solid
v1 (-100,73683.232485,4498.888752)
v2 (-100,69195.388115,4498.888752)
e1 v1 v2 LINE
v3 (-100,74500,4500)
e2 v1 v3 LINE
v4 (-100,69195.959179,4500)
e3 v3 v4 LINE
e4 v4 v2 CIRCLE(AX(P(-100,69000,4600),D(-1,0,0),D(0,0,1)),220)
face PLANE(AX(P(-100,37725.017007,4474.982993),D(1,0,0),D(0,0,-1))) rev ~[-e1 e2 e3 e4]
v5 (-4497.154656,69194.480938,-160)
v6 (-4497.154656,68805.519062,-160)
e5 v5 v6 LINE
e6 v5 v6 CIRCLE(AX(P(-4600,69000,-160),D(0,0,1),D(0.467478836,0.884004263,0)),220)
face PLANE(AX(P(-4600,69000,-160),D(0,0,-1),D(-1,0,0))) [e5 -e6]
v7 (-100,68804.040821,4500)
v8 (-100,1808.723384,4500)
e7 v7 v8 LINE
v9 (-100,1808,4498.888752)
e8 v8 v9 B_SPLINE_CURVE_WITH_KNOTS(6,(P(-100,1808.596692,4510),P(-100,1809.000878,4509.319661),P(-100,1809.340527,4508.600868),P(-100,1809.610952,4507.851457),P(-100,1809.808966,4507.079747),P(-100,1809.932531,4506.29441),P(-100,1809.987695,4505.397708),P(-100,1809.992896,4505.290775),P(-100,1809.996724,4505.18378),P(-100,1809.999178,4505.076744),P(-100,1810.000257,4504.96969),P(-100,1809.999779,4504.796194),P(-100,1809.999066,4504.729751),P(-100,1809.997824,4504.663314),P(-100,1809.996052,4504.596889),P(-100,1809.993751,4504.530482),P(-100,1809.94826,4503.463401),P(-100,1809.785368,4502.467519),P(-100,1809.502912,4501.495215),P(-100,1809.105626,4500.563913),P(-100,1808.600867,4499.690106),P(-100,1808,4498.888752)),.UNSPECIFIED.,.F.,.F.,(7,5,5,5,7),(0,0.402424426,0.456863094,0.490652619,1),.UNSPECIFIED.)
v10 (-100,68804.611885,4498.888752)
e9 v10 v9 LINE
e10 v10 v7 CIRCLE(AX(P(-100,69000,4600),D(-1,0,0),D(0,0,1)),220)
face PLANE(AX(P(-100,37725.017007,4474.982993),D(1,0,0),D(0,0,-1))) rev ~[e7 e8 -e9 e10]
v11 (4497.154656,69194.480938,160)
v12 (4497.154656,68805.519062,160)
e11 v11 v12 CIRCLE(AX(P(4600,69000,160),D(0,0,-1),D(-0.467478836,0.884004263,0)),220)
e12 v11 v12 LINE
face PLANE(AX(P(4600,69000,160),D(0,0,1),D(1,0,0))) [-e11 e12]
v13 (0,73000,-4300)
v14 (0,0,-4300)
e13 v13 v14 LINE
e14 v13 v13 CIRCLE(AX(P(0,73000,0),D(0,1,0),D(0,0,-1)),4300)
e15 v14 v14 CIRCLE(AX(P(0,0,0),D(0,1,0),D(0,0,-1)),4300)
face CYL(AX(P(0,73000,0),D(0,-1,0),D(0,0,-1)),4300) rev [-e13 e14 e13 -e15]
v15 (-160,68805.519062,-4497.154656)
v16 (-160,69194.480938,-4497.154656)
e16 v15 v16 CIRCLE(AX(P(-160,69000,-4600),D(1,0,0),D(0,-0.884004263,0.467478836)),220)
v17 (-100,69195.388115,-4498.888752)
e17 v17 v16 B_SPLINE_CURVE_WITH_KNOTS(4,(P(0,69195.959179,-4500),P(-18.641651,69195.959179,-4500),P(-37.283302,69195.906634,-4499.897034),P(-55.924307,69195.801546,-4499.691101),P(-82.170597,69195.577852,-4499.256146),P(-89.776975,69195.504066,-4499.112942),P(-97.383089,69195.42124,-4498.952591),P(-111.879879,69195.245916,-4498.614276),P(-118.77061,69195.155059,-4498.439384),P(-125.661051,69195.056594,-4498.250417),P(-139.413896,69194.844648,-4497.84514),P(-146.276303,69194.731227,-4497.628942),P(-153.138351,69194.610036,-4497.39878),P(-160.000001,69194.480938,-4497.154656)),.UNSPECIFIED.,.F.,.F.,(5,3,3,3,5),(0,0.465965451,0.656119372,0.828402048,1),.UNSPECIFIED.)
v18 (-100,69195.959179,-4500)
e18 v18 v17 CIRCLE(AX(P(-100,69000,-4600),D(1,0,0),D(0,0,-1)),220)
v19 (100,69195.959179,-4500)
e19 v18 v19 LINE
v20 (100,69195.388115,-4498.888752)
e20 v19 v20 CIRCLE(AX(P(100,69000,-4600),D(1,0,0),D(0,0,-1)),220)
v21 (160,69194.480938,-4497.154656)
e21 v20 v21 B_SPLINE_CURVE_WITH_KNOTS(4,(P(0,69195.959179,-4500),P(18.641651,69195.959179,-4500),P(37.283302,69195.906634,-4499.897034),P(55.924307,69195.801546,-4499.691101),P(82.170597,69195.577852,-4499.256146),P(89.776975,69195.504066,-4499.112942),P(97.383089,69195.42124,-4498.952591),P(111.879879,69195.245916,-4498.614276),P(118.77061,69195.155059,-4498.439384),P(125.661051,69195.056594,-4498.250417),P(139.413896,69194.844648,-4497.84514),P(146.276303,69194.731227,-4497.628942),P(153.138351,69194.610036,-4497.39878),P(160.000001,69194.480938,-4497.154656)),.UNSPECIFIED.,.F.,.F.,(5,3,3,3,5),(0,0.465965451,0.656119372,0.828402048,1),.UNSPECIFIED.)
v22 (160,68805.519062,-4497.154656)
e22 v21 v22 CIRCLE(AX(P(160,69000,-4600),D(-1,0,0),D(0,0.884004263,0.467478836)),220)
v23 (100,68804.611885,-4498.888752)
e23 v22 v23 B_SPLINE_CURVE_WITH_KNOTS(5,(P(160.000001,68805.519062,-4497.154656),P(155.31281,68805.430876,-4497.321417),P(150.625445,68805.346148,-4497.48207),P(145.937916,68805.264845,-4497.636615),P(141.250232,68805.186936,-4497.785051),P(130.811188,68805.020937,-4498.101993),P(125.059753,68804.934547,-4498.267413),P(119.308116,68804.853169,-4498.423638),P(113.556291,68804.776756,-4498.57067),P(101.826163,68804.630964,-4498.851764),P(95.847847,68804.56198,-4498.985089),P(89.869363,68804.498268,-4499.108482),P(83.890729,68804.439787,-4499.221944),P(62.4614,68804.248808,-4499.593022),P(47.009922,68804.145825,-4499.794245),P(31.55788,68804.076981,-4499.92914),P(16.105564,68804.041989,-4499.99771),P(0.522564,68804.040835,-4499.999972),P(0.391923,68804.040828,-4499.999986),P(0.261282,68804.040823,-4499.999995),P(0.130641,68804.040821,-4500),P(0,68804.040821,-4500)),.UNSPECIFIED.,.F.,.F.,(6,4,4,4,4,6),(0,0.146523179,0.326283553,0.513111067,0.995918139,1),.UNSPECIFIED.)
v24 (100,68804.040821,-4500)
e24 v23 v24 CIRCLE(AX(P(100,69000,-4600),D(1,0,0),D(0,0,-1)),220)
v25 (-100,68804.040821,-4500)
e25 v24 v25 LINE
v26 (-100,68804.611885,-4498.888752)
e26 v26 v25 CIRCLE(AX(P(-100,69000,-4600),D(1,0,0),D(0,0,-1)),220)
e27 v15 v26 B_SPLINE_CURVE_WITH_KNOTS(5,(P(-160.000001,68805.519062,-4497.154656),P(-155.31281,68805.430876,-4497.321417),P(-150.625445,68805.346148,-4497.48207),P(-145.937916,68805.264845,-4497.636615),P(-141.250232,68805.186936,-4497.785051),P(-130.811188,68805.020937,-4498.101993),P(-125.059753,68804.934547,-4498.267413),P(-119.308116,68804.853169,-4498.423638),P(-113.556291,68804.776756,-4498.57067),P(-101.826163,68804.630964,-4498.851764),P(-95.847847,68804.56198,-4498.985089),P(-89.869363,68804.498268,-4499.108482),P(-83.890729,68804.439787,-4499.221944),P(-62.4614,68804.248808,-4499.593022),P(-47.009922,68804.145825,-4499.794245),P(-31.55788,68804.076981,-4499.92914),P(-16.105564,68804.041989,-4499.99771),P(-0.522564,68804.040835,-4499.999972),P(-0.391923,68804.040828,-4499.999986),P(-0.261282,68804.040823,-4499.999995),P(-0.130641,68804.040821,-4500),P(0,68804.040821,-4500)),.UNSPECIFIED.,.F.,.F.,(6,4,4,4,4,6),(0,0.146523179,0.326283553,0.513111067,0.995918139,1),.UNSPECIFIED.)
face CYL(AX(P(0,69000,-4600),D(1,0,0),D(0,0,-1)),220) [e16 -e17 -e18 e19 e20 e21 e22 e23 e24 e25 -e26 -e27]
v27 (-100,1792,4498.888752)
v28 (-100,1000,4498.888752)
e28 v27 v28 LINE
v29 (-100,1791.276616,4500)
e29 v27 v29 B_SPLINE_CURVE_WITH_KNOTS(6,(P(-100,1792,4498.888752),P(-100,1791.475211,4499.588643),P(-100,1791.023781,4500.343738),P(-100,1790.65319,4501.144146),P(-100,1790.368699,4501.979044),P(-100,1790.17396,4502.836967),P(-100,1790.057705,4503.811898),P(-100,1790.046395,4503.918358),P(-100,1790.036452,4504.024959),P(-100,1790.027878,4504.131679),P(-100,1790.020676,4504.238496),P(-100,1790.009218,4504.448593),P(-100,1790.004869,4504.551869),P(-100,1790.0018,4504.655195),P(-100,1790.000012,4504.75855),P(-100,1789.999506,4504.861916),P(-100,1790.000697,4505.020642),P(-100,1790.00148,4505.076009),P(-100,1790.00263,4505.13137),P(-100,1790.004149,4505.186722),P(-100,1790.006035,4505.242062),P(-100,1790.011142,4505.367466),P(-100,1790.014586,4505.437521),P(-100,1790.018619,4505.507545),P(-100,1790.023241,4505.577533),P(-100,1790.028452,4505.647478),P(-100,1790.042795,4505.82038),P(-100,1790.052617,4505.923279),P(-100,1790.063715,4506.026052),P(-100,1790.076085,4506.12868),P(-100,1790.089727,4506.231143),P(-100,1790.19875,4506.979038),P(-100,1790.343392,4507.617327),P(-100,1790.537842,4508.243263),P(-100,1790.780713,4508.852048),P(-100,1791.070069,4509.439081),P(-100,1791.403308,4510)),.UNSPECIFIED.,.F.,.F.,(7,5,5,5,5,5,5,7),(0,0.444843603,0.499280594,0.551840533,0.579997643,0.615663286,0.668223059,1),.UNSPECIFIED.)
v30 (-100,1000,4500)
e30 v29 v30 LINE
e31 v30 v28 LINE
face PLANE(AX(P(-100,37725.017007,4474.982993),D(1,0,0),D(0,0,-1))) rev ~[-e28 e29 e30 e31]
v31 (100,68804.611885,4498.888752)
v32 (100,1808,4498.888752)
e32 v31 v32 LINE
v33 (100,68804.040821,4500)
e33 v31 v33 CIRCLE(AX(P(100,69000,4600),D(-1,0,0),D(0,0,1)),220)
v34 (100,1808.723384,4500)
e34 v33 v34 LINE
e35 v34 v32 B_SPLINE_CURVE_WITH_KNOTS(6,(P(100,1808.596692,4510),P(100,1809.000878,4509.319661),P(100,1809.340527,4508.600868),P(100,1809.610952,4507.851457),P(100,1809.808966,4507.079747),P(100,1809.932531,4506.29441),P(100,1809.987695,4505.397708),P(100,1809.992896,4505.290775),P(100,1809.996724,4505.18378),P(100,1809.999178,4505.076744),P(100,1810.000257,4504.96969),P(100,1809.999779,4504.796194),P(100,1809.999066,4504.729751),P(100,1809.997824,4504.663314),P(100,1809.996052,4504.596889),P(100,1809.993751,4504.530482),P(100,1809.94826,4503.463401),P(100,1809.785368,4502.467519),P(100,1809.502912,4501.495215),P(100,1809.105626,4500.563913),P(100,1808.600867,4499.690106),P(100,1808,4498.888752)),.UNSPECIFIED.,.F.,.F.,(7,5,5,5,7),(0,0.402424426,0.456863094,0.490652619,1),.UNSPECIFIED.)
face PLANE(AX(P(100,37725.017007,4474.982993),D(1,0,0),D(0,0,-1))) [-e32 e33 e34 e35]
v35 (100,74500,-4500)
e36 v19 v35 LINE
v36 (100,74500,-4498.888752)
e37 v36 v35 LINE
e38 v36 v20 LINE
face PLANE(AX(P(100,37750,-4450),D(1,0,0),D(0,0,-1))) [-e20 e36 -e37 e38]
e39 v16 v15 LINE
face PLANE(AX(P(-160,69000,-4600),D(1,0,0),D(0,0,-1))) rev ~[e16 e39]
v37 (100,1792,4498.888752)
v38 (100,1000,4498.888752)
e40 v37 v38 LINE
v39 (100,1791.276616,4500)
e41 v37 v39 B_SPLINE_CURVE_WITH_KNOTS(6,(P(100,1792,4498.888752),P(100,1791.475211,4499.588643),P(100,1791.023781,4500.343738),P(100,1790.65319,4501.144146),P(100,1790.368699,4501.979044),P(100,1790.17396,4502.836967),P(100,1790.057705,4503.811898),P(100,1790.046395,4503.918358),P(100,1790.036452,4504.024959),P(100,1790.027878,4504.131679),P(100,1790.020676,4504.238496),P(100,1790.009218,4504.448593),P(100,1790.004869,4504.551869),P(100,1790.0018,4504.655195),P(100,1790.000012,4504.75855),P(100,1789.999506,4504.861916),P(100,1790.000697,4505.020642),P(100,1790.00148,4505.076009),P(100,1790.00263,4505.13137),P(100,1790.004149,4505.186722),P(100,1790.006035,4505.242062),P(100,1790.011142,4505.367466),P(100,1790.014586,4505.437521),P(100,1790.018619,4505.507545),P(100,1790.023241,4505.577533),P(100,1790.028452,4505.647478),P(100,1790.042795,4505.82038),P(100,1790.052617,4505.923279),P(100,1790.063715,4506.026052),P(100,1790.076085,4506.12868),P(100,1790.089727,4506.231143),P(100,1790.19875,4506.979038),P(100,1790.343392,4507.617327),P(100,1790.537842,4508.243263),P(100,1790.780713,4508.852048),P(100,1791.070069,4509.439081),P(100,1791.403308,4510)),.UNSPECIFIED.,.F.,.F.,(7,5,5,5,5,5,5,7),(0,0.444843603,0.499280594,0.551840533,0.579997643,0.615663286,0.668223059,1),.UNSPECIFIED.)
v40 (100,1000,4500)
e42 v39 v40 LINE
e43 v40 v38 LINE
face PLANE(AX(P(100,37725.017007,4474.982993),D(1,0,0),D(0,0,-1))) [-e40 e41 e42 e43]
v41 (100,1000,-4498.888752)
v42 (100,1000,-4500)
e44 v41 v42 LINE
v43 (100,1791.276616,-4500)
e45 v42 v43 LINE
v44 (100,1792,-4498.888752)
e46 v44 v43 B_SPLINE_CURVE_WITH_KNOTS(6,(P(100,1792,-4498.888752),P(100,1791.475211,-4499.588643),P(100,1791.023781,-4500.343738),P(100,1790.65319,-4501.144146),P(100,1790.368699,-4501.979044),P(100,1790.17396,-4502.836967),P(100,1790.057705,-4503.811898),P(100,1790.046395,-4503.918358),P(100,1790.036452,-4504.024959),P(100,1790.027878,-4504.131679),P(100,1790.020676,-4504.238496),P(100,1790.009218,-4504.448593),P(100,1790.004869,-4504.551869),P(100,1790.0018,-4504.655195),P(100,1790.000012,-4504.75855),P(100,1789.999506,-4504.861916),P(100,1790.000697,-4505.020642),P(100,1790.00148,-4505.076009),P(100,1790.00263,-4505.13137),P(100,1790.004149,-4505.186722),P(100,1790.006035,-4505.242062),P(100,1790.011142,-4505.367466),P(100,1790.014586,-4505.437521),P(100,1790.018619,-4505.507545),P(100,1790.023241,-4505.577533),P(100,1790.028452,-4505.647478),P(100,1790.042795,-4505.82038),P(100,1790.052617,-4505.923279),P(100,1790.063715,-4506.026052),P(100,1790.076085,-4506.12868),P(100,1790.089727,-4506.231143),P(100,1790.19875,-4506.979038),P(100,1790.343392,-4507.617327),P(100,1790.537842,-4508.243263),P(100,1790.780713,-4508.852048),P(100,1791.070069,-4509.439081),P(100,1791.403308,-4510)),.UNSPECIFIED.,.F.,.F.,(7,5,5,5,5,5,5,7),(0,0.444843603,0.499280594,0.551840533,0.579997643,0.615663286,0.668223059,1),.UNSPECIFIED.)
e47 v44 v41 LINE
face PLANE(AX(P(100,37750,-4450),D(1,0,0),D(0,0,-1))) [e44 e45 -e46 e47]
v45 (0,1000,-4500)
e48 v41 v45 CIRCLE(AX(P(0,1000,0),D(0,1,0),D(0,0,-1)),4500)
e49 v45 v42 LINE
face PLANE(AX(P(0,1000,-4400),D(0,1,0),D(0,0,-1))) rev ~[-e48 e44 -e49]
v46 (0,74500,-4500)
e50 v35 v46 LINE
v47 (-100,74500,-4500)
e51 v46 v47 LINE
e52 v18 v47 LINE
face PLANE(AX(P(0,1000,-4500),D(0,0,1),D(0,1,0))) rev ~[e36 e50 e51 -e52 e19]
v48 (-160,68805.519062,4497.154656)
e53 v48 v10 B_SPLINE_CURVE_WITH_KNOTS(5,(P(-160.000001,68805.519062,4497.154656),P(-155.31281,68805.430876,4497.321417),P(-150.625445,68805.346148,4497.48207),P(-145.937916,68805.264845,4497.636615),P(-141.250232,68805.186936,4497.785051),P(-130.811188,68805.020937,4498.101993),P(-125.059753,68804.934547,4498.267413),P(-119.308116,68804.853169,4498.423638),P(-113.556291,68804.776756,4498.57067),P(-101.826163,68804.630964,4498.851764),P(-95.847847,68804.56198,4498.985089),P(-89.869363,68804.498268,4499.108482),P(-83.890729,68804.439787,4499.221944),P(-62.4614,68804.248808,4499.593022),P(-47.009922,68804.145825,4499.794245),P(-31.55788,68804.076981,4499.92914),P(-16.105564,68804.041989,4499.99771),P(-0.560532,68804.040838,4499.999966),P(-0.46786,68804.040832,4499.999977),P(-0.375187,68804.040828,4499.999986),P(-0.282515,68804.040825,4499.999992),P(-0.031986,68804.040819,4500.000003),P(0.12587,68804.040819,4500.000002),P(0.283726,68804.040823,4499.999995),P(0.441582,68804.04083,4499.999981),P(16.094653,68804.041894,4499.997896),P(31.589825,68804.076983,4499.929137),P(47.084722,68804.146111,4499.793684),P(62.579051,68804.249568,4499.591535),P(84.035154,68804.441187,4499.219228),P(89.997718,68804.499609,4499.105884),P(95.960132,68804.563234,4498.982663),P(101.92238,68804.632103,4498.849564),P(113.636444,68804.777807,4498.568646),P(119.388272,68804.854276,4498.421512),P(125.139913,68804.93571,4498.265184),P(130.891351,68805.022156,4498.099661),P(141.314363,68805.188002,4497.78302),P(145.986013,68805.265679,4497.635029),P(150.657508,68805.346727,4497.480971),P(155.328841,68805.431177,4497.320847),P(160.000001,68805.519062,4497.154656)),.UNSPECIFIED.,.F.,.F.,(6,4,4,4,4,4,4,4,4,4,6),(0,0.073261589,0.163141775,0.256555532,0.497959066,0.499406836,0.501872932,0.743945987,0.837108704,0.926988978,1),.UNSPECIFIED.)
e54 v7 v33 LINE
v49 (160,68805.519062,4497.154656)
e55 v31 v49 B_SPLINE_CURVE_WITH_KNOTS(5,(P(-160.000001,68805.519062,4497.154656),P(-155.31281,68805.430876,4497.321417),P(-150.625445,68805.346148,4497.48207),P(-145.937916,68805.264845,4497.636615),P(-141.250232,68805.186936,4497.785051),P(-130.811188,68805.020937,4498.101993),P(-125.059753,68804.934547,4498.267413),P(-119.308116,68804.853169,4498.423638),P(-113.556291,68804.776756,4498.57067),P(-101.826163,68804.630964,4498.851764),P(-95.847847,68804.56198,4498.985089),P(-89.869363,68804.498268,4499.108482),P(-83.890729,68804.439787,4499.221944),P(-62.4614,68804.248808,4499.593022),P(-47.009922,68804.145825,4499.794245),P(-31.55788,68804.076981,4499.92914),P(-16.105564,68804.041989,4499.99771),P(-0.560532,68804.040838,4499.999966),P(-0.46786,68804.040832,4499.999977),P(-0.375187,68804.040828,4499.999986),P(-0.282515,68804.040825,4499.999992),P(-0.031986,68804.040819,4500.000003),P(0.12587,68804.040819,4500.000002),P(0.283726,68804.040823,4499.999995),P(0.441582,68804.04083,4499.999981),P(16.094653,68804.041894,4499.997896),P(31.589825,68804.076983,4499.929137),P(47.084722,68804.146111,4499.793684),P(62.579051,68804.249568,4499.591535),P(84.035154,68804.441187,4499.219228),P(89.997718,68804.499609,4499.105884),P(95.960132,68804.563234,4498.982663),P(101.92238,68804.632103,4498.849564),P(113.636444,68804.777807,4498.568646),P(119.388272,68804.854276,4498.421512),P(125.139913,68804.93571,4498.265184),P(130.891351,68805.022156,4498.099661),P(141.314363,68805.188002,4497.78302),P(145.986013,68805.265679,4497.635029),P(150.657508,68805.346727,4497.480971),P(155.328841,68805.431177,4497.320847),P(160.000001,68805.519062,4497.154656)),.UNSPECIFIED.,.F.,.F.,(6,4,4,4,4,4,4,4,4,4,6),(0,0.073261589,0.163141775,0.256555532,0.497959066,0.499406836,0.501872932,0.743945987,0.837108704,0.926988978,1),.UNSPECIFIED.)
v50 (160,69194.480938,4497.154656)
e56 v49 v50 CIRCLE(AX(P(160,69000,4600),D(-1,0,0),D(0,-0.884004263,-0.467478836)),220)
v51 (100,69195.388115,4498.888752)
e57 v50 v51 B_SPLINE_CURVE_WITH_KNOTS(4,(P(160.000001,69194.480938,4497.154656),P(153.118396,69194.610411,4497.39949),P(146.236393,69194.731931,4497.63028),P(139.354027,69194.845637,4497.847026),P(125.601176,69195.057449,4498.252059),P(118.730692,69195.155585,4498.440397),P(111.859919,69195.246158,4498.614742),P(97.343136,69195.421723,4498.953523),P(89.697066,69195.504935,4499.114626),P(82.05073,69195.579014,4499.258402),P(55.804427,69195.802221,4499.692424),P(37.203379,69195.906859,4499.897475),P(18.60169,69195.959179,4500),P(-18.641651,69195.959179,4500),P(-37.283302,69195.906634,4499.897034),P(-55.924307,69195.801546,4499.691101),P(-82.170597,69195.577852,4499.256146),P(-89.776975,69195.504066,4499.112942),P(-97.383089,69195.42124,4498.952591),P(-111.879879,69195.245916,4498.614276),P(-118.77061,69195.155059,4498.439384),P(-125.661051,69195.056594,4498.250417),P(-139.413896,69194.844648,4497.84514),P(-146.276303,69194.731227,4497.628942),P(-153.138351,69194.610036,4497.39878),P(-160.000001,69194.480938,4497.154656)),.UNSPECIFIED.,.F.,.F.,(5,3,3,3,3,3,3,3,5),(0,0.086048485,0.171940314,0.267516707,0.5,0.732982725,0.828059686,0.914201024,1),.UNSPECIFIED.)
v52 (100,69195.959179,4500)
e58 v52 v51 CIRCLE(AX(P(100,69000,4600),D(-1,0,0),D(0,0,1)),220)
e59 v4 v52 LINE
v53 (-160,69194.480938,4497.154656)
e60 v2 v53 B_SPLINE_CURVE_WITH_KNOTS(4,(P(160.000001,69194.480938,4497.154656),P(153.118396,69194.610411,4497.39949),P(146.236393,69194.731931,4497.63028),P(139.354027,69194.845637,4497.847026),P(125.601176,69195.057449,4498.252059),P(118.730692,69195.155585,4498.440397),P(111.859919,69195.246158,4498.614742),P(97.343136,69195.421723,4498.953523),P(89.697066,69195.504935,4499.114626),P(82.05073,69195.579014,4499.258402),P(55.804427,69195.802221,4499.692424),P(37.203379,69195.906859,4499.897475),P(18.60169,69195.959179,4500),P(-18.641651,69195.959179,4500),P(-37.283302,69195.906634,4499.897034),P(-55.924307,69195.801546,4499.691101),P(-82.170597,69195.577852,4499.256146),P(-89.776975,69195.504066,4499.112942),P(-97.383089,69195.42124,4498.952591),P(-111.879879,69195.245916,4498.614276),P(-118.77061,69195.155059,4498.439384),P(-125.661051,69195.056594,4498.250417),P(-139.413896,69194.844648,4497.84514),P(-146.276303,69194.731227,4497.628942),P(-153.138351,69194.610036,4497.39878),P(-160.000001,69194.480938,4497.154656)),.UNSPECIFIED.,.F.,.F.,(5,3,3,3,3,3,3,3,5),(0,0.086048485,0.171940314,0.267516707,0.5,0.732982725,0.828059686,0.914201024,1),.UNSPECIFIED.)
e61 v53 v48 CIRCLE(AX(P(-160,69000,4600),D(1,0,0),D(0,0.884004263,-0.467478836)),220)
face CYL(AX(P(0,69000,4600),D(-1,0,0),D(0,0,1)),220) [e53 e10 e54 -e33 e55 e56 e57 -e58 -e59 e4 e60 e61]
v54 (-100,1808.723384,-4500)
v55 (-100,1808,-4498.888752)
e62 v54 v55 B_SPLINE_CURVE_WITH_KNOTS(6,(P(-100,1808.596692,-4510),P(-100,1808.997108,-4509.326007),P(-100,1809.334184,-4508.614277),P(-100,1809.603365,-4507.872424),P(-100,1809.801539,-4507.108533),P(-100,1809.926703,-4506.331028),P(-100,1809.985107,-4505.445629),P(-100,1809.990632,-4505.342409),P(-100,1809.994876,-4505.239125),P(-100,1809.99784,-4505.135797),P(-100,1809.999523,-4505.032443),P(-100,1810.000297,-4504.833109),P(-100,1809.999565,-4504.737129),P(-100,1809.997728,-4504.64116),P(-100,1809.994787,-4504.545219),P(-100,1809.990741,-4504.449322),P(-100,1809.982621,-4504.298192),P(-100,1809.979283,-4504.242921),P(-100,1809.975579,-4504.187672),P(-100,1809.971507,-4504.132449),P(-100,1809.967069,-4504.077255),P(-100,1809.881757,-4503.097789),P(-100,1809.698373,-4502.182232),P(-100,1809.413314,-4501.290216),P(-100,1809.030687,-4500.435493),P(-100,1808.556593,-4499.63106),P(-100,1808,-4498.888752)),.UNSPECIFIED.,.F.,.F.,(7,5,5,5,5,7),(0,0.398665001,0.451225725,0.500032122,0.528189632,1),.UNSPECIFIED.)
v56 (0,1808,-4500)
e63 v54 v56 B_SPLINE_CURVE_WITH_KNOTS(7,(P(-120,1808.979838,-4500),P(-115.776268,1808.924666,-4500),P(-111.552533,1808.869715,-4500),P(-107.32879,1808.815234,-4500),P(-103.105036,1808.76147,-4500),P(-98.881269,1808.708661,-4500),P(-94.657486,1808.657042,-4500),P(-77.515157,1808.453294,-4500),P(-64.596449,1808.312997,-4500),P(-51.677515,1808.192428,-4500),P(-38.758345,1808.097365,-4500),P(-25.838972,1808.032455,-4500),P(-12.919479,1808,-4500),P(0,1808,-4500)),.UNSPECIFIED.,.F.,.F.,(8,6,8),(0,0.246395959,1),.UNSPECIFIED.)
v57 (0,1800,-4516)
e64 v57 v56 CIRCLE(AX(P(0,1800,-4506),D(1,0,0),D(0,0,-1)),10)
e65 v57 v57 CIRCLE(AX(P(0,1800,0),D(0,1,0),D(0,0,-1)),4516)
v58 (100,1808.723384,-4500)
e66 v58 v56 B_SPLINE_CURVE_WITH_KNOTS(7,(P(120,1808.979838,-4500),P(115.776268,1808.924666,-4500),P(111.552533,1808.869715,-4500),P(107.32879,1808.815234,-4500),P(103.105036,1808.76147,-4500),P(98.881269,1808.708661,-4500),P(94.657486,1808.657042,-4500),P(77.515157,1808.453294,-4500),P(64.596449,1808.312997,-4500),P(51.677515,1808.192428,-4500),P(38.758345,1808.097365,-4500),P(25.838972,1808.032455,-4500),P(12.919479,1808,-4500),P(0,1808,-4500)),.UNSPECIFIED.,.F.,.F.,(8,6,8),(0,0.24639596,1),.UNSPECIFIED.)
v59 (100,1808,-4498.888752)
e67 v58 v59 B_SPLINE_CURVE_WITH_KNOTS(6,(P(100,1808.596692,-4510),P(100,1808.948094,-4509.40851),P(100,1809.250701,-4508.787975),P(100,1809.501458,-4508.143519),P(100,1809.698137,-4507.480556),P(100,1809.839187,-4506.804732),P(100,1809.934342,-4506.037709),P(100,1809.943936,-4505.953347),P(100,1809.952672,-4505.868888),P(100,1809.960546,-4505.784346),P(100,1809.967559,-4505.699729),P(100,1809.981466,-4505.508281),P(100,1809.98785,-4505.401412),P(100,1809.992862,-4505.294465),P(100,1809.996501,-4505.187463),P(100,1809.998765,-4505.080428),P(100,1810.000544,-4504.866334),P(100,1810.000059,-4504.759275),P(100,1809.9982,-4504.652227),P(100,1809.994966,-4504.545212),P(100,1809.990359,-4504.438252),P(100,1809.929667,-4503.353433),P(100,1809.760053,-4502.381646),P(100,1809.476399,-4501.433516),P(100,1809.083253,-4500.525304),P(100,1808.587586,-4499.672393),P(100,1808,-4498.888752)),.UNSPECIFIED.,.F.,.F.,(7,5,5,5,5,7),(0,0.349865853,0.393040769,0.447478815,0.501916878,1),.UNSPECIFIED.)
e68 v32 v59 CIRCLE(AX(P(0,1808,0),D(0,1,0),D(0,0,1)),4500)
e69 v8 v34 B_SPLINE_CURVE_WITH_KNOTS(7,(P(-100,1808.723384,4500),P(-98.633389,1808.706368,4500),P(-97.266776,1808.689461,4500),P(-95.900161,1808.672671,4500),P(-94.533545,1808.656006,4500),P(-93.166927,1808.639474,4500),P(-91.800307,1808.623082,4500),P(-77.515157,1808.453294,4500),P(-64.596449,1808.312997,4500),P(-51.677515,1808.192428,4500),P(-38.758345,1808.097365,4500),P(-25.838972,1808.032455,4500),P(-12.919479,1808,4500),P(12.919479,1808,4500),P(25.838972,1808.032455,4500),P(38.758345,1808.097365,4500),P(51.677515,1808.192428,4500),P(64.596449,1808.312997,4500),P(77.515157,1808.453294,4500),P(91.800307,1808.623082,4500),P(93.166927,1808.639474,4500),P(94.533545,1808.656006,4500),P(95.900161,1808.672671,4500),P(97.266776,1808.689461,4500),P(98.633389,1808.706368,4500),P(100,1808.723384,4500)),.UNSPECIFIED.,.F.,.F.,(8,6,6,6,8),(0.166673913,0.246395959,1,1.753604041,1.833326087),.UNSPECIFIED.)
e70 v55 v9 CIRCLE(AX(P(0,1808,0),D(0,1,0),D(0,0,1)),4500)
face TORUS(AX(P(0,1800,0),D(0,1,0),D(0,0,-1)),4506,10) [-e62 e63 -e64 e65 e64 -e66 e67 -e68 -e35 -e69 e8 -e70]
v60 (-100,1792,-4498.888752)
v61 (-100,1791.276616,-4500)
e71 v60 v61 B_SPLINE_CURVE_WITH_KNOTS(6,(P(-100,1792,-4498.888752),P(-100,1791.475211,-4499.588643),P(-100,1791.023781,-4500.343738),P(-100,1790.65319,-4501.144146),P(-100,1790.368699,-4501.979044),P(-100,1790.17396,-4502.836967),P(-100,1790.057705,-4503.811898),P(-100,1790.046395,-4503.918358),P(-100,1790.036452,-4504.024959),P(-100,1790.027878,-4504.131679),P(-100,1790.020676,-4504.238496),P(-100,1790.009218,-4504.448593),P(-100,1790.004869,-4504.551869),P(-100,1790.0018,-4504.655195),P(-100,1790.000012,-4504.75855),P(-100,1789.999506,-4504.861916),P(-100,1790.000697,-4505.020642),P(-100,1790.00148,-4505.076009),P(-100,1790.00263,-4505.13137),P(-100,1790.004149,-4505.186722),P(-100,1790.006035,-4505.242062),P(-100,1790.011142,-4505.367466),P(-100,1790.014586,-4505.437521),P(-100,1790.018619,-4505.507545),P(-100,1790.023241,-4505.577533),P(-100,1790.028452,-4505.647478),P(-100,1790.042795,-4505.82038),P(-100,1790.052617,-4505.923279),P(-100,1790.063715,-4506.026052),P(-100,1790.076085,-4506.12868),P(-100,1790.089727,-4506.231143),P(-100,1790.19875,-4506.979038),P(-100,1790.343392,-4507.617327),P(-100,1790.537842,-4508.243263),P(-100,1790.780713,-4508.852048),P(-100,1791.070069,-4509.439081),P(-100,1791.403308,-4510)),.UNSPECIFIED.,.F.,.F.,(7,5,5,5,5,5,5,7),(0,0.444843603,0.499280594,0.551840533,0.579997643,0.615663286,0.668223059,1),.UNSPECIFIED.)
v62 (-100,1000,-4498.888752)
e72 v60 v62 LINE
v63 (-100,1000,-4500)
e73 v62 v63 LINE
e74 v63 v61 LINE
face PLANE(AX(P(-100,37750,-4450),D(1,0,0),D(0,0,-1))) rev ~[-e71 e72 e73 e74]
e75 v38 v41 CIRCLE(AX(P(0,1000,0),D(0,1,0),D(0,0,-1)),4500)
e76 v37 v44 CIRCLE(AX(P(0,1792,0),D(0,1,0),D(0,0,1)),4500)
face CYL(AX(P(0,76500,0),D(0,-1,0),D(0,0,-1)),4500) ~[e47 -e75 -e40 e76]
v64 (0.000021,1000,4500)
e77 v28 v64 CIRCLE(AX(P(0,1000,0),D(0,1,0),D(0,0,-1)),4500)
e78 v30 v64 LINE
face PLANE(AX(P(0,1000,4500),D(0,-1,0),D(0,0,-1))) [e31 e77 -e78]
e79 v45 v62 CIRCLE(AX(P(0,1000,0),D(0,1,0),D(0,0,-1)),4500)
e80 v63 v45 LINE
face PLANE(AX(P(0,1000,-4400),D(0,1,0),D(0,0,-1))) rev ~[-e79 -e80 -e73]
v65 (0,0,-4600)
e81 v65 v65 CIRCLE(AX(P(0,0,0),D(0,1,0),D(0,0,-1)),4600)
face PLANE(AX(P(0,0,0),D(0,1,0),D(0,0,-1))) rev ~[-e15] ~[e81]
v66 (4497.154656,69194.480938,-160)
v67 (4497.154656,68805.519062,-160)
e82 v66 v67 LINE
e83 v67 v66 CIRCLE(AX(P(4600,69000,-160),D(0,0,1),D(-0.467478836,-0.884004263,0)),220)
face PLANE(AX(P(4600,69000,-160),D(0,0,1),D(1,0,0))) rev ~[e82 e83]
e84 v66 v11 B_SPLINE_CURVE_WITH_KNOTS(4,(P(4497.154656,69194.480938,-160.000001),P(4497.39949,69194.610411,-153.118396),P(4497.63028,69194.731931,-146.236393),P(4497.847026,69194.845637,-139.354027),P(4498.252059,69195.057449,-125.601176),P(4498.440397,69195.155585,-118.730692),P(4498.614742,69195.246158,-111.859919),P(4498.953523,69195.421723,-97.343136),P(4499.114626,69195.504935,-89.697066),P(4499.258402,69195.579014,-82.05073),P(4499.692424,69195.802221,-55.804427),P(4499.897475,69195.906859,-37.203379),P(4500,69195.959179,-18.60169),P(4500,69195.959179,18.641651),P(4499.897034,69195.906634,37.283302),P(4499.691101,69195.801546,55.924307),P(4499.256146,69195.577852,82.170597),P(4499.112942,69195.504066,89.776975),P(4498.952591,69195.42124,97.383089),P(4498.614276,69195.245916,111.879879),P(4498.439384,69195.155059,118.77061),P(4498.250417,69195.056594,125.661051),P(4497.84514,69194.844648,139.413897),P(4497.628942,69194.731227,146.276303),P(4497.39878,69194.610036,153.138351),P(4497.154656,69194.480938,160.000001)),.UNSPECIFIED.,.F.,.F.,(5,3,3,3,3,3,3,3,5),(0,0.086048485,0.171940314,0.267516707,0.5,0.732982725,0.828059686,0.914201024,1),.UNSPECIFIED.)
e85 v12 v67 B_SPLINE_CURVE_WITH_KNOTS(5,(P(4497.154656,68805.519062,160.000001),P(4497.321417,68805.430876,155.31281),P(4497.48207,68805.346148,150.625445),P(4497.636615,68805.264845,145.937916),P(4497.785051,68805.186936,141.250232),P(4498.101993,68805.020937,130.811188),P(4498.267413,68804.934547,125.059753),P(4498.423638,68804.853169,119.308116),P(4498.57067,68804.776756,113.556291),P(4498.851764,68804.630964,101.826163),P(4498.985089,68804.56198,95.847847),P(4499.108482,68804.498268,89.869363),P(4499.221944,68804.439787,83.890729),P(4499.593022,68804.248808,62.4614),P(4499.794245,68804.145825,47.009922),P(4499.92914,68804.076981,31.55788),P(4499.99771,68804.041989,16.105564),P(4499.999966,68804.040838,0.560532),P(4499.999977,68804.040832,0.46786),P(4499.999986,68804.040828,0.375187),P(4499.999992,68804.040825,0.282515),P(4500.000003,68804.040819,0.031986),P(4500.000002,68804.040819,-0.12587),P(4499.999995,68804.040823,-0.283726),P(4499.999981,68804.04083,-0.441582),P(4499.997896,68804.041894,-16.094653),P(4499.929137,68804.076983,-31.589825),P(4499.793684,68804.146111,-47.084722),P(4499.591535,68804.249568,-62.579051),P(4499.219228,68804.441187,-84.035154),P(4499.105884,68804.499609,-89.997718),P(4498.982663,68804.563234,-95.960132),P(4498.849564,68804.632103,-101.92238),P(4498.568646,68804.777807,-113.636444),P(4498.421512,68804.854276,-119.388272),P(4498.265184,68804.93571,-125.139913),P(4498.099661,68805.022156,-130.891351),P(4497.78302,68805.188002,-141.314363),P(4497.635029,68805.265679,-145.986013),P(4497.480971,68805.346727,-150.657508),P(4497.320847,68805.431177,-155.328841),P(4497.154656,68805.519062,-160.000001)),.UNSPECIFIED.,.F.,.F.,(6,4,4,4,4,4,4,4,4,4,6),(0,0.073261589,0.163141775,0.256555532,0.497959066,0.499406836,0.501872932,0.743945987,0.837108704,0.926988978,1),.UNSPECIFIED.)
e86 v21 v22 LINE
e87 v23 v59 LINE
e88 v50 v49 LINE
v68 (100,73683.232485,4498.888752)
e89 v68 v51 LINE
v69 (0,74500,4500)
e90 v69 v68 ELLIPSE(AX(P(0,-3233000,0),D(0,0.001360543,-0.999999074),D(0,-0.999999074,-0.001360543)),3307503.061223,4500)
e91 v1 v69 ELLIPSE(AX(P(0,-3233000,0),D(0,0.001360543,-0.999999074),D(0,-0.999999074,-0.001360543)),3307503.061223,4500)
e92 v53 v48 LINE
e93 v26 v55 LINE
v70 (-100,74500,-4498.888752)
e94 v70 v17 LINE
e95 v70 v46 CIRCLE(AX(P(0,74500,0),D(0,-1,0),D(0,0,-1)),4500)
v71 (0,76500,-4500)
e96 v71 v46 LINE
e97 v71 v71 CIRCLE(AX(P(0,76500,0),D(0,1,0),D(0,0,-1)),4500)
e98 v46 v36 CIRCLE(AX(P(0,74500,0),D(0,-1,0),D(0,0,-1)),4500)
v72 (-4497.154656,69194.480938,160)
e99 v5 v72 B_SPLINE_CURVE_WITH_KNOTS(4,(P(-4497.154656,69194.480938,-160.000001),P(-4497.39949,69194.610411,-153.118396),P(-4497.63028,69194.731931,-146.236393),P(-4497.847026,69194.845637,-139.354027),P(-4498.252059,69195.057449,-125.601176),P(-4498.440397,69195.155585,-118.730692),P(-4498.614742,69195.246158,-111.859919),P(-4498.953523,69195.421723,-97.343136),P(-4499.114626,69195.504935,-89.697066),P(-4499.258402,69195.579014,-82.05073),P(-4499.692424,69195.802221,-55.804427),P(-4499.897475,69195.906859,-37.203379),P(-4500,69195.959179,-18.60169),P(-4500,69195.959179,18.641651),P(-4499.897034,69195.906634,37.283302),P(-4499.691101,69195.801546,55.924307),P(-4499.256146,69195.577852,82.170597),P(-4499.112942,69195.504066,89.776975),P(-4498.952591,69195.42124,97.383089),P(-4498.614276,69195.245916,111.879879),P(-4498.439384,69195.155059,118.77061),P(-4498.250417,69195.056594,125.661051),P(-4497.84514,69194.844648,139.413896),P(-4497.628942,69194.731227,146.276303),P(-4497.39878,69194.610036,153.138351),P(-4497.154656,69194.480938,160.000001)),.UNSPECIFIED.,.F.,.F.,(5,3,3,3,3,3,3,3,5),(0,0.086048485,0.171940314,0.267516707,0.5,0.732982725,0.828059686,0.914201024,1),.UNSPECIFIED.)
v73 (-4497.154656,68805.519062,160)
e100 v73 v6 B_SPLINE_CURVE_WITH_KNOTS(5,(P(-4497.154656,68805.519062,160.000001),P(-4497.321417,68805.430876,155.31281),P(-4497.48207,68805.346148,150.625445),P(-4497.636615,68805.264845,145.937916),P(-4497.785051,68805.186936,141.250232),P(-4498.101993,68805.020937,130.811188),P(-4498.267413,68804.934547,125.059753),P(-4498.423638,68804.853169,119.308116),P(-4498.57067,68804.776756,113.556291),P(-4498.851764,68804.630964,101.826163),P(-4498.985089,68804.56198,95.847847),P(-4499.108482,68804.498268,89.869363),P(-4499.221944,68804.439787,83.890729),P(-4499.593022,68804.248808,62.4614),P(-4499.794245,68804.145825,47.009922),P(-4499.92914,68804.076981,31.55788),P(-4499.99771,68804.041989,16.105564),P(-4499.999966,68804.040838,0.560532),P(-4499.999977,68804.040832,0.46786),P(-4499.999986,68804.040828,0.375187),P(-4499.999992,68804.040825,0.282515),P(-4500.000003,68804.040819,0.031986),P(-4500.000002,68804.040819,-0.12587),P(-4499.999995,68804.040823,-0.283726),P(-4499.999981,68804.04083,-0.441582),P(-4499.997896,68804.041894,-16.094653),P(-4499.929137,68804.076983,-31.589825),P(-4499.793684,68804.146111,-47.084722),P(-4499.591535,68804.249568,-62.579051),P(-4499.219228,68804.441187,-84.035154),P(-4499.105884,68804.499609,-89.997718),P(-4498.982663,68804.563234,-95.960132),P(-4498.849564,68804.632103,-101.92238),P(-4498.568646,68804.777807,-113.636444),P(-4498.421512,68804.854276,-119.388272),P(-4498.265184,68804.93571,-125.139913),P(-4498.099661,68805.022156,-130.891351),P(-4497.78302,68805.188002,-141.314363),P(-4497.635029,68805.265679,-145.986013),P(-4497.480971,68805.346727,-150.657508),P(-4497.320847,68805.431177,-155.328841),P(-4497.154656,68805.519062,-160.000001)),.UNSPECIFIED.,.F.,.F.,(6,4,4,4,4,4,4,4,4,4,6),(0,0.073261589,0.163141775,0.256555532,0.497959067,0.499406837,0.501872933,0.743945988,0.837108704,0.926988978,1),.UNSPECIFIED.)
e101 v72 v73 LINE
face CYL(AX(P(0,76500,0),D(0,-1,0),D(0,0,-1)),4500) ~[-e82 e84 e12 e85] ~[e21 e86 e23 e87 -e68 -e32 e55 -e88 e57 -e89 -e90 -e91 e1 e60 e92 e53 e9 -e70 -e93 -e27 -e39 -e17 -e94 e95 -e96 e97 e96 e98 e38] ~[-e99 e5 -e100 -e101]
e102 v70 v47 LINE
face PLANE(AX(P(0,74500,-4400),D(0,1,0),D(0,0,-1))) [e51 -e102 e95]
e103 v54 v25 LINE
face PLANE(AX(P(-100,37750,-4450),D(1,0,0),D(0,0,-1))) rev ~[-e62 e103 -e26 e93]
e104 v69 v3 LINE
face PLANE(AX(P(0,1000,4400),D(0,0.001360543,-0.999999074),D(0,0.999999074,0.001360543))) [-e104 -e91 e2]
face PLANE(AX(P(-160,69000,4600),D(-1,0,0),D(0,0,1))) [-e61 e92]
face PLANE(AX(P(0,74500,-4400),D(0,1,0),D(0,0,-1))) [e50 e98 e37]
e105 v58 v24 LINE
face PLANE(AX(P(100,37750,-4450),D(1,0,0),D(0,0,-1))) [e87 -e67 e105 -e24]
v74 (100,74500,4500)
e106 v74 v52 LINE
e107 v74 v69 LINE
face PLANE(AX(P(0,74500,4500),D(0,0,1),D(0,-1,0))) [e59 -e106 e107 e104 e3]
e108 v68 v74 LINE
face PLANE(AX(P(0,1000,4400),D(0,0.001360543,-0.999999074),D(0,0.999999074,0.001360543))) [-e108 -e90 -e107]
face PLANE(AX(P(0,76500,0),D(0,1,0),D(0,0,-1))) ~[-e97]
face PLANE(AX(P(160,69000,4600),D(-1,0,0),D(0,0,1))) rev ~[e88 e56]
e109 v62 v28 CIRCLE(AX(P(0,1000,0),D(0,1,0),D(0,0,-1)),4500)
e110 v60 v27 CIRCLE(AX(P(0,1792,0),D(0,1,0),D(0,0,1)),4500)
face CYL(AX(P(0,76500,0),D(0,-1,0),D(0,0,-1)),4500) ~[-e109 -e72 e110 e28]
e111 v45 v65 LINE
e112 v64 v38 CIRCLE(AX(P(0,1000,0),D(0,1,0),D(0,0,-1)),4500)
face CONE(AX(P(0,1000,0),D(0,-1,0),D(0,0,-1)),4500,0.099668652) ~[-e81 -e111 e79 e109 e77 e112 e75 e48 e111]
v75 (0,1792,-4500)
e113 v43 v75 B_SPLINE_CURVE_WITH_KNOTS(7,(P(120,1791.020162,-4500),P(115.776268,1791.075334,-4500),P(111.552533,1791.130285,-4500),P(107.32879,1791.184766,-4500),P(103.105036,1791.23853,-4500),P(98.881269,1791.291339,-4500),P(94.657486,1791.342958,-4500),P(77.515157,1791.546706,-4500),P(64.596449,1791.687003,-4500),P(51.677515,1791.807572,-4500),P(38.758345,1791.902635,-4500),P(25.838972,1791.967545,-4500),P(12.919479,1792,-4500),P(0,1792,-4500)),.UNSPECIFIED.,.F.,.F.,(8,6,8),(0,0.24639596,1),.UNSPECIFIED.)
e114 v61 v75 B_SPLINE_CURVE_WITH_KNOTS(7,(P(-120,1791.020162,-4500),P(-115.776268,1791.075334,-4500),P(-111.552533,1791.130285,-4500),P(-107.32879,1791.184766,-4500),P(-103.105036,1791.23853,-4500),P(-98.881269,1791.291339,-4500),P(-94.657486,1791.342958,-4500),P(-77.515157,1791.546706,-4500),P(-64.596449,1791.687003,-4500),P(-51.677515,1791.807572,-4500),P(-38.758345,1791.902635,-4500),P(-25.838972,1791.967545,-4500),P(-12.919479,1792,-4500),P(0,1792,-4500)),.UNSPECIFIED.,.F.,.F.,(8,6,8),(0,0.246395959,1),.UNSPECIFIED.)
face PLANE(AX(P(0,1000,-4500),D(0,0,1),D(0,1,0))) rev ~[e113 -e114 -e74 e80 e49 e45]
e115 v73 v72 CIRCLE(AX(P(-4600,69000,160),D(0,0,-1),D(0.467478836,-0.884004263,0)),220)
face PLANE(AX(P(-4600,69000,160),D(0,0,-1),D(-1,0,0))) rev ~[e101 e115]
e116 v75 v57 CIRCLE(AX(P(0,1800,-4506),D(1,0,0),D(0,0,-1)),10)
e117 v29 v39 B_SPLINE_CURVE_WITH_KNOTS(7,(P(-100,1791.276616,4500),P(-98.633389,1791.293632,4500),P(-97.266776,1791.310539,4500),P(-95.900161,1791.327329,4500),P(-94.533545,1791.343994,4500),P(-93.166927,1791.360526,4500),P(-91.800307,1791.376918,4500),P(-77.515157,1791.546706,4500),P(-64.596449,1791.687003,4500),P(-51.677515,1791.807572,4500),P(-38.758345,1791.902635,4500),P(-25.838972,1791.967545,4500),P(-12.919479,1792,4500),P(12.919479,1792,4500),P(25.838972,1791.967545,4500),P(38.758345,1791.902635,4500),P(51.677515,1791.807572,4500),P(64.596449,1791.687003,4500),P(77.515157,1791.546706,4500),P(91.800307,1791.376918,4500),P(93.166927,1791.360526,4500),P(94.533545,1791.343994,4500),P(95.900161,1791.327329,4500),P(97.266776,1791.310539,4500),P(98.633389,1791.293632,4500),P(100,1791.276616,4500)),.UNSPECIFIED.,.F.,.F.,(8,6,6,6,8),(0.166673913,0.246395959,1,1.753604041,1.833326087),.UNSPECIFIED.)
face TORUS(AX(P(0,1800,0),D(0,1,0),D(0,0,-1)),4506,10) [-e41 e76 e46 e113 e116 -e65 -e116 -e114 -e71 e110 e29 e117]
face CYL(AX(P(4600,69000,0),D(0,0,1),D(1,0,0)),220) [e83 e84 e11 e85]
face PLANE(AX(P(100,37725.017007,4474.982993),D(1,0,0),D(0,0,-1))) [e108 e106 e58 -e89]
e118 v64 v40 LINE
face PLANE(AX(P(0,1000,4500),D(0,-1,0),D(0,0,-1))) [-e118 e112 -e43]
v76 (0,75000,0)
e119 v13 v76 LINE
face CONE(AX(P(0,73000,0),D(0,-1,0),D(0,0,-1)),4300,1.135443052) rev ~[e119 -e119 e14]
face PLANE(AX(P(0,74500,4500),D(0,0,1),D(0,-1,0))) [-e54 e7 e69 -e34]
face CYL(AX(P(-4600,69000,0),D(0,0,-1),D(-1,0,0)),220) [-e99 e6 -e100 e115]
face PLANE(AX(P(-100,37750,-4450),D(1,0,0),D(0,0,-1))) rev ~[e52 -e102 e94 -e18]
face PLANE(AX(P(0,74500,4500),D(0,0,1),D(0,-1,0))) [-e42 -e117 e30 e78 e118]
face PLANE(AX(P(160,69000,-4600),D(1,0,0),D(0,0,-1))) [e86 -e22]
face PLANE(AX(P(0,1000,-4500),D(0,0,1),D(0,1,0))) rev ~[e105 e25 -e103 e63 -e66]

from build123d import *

# Parameters (mm, degrees)
SKETCH2_R           = 10
SKETCH6_R           = 220
BOSS_EXTRUDE1_DEPTH = 160
CIRPATTERN1_COUNT   = 4
SKETCH7_W           = 100
SKETCH7_H           = 73500
BOSS_EXTRUDE2_DEPTH = 100


with BuildPart() as part:
    # Sketch1 → Revolve1 (revolve)
    with BuildSketch(Plane.XY, mode=Mode.PRIVATE) as revolve1_sk:
        Polygon((0, 76500), (4500, 76500), (4500, 1000), (4600, 0), (4300, 0), (4300, 1000), (4300, 73000), (0, 75000), align=None)
    revolve(revolve1_sk.sketch.rotate(Axis((0, 0, 0), (0, 1, 0)), 90), axis=Axis((0, 0, 0), (0, 1, 0)))

    # Sketch2 → Revolve2 (revolve)
    with BuildSketch(Plane.XY, mode=Mode.PRIVATE) as revolve2_sk:
        with Locations((4506, 1800)):
            Circle(SKETCH2_R)
    revolve(revolve2_sk.sketch.rotate(Axis((0, 0, 0), (0, 1, 0)), 90), axis=Axis((0, 0, 0), (0, 1, 0)))

    # Sketch6 → Boss-Extrude1 (add, symmetric)
    with BuildSketch(Plane.XY):
        with Locations((4600, 69000)):
            Circle(SKETCH6_R)
    boss_extrude1 = extrude(amount=BOSS_EXTRUDE1_DEPTH, both=True)

    # CirPattern1: Boss-Extrude1 ×4 about axis
    cirpattern1_axis = Axis((0, 0, 0), (0, 1, 0))
    for i in range(1, CIRPATTERN1_COUNT):
        add(boss_extrude1.rotate(cirpattern1_axis, i * 360 / CIRPATTERN1_COUNT))

    # Sketch7 → Boss-Extrude2 (add, symmetric)
    with BuildSketch(Plane(origin=(0, 0, 0), x_dir=(0, 0, -1), z_dir=(1, 0, 0))):
        with Locations((4450, 37750)):
            Rectangle(SKETCH7_W, SKETCH7_H)
        Polygon((-4500, 74500), (-4500, 1000), (-4400, 1000), align=None)
    extrude(amount=BOSS_EXTRUDE2_DEPTH, both=True)


solid = part.part
